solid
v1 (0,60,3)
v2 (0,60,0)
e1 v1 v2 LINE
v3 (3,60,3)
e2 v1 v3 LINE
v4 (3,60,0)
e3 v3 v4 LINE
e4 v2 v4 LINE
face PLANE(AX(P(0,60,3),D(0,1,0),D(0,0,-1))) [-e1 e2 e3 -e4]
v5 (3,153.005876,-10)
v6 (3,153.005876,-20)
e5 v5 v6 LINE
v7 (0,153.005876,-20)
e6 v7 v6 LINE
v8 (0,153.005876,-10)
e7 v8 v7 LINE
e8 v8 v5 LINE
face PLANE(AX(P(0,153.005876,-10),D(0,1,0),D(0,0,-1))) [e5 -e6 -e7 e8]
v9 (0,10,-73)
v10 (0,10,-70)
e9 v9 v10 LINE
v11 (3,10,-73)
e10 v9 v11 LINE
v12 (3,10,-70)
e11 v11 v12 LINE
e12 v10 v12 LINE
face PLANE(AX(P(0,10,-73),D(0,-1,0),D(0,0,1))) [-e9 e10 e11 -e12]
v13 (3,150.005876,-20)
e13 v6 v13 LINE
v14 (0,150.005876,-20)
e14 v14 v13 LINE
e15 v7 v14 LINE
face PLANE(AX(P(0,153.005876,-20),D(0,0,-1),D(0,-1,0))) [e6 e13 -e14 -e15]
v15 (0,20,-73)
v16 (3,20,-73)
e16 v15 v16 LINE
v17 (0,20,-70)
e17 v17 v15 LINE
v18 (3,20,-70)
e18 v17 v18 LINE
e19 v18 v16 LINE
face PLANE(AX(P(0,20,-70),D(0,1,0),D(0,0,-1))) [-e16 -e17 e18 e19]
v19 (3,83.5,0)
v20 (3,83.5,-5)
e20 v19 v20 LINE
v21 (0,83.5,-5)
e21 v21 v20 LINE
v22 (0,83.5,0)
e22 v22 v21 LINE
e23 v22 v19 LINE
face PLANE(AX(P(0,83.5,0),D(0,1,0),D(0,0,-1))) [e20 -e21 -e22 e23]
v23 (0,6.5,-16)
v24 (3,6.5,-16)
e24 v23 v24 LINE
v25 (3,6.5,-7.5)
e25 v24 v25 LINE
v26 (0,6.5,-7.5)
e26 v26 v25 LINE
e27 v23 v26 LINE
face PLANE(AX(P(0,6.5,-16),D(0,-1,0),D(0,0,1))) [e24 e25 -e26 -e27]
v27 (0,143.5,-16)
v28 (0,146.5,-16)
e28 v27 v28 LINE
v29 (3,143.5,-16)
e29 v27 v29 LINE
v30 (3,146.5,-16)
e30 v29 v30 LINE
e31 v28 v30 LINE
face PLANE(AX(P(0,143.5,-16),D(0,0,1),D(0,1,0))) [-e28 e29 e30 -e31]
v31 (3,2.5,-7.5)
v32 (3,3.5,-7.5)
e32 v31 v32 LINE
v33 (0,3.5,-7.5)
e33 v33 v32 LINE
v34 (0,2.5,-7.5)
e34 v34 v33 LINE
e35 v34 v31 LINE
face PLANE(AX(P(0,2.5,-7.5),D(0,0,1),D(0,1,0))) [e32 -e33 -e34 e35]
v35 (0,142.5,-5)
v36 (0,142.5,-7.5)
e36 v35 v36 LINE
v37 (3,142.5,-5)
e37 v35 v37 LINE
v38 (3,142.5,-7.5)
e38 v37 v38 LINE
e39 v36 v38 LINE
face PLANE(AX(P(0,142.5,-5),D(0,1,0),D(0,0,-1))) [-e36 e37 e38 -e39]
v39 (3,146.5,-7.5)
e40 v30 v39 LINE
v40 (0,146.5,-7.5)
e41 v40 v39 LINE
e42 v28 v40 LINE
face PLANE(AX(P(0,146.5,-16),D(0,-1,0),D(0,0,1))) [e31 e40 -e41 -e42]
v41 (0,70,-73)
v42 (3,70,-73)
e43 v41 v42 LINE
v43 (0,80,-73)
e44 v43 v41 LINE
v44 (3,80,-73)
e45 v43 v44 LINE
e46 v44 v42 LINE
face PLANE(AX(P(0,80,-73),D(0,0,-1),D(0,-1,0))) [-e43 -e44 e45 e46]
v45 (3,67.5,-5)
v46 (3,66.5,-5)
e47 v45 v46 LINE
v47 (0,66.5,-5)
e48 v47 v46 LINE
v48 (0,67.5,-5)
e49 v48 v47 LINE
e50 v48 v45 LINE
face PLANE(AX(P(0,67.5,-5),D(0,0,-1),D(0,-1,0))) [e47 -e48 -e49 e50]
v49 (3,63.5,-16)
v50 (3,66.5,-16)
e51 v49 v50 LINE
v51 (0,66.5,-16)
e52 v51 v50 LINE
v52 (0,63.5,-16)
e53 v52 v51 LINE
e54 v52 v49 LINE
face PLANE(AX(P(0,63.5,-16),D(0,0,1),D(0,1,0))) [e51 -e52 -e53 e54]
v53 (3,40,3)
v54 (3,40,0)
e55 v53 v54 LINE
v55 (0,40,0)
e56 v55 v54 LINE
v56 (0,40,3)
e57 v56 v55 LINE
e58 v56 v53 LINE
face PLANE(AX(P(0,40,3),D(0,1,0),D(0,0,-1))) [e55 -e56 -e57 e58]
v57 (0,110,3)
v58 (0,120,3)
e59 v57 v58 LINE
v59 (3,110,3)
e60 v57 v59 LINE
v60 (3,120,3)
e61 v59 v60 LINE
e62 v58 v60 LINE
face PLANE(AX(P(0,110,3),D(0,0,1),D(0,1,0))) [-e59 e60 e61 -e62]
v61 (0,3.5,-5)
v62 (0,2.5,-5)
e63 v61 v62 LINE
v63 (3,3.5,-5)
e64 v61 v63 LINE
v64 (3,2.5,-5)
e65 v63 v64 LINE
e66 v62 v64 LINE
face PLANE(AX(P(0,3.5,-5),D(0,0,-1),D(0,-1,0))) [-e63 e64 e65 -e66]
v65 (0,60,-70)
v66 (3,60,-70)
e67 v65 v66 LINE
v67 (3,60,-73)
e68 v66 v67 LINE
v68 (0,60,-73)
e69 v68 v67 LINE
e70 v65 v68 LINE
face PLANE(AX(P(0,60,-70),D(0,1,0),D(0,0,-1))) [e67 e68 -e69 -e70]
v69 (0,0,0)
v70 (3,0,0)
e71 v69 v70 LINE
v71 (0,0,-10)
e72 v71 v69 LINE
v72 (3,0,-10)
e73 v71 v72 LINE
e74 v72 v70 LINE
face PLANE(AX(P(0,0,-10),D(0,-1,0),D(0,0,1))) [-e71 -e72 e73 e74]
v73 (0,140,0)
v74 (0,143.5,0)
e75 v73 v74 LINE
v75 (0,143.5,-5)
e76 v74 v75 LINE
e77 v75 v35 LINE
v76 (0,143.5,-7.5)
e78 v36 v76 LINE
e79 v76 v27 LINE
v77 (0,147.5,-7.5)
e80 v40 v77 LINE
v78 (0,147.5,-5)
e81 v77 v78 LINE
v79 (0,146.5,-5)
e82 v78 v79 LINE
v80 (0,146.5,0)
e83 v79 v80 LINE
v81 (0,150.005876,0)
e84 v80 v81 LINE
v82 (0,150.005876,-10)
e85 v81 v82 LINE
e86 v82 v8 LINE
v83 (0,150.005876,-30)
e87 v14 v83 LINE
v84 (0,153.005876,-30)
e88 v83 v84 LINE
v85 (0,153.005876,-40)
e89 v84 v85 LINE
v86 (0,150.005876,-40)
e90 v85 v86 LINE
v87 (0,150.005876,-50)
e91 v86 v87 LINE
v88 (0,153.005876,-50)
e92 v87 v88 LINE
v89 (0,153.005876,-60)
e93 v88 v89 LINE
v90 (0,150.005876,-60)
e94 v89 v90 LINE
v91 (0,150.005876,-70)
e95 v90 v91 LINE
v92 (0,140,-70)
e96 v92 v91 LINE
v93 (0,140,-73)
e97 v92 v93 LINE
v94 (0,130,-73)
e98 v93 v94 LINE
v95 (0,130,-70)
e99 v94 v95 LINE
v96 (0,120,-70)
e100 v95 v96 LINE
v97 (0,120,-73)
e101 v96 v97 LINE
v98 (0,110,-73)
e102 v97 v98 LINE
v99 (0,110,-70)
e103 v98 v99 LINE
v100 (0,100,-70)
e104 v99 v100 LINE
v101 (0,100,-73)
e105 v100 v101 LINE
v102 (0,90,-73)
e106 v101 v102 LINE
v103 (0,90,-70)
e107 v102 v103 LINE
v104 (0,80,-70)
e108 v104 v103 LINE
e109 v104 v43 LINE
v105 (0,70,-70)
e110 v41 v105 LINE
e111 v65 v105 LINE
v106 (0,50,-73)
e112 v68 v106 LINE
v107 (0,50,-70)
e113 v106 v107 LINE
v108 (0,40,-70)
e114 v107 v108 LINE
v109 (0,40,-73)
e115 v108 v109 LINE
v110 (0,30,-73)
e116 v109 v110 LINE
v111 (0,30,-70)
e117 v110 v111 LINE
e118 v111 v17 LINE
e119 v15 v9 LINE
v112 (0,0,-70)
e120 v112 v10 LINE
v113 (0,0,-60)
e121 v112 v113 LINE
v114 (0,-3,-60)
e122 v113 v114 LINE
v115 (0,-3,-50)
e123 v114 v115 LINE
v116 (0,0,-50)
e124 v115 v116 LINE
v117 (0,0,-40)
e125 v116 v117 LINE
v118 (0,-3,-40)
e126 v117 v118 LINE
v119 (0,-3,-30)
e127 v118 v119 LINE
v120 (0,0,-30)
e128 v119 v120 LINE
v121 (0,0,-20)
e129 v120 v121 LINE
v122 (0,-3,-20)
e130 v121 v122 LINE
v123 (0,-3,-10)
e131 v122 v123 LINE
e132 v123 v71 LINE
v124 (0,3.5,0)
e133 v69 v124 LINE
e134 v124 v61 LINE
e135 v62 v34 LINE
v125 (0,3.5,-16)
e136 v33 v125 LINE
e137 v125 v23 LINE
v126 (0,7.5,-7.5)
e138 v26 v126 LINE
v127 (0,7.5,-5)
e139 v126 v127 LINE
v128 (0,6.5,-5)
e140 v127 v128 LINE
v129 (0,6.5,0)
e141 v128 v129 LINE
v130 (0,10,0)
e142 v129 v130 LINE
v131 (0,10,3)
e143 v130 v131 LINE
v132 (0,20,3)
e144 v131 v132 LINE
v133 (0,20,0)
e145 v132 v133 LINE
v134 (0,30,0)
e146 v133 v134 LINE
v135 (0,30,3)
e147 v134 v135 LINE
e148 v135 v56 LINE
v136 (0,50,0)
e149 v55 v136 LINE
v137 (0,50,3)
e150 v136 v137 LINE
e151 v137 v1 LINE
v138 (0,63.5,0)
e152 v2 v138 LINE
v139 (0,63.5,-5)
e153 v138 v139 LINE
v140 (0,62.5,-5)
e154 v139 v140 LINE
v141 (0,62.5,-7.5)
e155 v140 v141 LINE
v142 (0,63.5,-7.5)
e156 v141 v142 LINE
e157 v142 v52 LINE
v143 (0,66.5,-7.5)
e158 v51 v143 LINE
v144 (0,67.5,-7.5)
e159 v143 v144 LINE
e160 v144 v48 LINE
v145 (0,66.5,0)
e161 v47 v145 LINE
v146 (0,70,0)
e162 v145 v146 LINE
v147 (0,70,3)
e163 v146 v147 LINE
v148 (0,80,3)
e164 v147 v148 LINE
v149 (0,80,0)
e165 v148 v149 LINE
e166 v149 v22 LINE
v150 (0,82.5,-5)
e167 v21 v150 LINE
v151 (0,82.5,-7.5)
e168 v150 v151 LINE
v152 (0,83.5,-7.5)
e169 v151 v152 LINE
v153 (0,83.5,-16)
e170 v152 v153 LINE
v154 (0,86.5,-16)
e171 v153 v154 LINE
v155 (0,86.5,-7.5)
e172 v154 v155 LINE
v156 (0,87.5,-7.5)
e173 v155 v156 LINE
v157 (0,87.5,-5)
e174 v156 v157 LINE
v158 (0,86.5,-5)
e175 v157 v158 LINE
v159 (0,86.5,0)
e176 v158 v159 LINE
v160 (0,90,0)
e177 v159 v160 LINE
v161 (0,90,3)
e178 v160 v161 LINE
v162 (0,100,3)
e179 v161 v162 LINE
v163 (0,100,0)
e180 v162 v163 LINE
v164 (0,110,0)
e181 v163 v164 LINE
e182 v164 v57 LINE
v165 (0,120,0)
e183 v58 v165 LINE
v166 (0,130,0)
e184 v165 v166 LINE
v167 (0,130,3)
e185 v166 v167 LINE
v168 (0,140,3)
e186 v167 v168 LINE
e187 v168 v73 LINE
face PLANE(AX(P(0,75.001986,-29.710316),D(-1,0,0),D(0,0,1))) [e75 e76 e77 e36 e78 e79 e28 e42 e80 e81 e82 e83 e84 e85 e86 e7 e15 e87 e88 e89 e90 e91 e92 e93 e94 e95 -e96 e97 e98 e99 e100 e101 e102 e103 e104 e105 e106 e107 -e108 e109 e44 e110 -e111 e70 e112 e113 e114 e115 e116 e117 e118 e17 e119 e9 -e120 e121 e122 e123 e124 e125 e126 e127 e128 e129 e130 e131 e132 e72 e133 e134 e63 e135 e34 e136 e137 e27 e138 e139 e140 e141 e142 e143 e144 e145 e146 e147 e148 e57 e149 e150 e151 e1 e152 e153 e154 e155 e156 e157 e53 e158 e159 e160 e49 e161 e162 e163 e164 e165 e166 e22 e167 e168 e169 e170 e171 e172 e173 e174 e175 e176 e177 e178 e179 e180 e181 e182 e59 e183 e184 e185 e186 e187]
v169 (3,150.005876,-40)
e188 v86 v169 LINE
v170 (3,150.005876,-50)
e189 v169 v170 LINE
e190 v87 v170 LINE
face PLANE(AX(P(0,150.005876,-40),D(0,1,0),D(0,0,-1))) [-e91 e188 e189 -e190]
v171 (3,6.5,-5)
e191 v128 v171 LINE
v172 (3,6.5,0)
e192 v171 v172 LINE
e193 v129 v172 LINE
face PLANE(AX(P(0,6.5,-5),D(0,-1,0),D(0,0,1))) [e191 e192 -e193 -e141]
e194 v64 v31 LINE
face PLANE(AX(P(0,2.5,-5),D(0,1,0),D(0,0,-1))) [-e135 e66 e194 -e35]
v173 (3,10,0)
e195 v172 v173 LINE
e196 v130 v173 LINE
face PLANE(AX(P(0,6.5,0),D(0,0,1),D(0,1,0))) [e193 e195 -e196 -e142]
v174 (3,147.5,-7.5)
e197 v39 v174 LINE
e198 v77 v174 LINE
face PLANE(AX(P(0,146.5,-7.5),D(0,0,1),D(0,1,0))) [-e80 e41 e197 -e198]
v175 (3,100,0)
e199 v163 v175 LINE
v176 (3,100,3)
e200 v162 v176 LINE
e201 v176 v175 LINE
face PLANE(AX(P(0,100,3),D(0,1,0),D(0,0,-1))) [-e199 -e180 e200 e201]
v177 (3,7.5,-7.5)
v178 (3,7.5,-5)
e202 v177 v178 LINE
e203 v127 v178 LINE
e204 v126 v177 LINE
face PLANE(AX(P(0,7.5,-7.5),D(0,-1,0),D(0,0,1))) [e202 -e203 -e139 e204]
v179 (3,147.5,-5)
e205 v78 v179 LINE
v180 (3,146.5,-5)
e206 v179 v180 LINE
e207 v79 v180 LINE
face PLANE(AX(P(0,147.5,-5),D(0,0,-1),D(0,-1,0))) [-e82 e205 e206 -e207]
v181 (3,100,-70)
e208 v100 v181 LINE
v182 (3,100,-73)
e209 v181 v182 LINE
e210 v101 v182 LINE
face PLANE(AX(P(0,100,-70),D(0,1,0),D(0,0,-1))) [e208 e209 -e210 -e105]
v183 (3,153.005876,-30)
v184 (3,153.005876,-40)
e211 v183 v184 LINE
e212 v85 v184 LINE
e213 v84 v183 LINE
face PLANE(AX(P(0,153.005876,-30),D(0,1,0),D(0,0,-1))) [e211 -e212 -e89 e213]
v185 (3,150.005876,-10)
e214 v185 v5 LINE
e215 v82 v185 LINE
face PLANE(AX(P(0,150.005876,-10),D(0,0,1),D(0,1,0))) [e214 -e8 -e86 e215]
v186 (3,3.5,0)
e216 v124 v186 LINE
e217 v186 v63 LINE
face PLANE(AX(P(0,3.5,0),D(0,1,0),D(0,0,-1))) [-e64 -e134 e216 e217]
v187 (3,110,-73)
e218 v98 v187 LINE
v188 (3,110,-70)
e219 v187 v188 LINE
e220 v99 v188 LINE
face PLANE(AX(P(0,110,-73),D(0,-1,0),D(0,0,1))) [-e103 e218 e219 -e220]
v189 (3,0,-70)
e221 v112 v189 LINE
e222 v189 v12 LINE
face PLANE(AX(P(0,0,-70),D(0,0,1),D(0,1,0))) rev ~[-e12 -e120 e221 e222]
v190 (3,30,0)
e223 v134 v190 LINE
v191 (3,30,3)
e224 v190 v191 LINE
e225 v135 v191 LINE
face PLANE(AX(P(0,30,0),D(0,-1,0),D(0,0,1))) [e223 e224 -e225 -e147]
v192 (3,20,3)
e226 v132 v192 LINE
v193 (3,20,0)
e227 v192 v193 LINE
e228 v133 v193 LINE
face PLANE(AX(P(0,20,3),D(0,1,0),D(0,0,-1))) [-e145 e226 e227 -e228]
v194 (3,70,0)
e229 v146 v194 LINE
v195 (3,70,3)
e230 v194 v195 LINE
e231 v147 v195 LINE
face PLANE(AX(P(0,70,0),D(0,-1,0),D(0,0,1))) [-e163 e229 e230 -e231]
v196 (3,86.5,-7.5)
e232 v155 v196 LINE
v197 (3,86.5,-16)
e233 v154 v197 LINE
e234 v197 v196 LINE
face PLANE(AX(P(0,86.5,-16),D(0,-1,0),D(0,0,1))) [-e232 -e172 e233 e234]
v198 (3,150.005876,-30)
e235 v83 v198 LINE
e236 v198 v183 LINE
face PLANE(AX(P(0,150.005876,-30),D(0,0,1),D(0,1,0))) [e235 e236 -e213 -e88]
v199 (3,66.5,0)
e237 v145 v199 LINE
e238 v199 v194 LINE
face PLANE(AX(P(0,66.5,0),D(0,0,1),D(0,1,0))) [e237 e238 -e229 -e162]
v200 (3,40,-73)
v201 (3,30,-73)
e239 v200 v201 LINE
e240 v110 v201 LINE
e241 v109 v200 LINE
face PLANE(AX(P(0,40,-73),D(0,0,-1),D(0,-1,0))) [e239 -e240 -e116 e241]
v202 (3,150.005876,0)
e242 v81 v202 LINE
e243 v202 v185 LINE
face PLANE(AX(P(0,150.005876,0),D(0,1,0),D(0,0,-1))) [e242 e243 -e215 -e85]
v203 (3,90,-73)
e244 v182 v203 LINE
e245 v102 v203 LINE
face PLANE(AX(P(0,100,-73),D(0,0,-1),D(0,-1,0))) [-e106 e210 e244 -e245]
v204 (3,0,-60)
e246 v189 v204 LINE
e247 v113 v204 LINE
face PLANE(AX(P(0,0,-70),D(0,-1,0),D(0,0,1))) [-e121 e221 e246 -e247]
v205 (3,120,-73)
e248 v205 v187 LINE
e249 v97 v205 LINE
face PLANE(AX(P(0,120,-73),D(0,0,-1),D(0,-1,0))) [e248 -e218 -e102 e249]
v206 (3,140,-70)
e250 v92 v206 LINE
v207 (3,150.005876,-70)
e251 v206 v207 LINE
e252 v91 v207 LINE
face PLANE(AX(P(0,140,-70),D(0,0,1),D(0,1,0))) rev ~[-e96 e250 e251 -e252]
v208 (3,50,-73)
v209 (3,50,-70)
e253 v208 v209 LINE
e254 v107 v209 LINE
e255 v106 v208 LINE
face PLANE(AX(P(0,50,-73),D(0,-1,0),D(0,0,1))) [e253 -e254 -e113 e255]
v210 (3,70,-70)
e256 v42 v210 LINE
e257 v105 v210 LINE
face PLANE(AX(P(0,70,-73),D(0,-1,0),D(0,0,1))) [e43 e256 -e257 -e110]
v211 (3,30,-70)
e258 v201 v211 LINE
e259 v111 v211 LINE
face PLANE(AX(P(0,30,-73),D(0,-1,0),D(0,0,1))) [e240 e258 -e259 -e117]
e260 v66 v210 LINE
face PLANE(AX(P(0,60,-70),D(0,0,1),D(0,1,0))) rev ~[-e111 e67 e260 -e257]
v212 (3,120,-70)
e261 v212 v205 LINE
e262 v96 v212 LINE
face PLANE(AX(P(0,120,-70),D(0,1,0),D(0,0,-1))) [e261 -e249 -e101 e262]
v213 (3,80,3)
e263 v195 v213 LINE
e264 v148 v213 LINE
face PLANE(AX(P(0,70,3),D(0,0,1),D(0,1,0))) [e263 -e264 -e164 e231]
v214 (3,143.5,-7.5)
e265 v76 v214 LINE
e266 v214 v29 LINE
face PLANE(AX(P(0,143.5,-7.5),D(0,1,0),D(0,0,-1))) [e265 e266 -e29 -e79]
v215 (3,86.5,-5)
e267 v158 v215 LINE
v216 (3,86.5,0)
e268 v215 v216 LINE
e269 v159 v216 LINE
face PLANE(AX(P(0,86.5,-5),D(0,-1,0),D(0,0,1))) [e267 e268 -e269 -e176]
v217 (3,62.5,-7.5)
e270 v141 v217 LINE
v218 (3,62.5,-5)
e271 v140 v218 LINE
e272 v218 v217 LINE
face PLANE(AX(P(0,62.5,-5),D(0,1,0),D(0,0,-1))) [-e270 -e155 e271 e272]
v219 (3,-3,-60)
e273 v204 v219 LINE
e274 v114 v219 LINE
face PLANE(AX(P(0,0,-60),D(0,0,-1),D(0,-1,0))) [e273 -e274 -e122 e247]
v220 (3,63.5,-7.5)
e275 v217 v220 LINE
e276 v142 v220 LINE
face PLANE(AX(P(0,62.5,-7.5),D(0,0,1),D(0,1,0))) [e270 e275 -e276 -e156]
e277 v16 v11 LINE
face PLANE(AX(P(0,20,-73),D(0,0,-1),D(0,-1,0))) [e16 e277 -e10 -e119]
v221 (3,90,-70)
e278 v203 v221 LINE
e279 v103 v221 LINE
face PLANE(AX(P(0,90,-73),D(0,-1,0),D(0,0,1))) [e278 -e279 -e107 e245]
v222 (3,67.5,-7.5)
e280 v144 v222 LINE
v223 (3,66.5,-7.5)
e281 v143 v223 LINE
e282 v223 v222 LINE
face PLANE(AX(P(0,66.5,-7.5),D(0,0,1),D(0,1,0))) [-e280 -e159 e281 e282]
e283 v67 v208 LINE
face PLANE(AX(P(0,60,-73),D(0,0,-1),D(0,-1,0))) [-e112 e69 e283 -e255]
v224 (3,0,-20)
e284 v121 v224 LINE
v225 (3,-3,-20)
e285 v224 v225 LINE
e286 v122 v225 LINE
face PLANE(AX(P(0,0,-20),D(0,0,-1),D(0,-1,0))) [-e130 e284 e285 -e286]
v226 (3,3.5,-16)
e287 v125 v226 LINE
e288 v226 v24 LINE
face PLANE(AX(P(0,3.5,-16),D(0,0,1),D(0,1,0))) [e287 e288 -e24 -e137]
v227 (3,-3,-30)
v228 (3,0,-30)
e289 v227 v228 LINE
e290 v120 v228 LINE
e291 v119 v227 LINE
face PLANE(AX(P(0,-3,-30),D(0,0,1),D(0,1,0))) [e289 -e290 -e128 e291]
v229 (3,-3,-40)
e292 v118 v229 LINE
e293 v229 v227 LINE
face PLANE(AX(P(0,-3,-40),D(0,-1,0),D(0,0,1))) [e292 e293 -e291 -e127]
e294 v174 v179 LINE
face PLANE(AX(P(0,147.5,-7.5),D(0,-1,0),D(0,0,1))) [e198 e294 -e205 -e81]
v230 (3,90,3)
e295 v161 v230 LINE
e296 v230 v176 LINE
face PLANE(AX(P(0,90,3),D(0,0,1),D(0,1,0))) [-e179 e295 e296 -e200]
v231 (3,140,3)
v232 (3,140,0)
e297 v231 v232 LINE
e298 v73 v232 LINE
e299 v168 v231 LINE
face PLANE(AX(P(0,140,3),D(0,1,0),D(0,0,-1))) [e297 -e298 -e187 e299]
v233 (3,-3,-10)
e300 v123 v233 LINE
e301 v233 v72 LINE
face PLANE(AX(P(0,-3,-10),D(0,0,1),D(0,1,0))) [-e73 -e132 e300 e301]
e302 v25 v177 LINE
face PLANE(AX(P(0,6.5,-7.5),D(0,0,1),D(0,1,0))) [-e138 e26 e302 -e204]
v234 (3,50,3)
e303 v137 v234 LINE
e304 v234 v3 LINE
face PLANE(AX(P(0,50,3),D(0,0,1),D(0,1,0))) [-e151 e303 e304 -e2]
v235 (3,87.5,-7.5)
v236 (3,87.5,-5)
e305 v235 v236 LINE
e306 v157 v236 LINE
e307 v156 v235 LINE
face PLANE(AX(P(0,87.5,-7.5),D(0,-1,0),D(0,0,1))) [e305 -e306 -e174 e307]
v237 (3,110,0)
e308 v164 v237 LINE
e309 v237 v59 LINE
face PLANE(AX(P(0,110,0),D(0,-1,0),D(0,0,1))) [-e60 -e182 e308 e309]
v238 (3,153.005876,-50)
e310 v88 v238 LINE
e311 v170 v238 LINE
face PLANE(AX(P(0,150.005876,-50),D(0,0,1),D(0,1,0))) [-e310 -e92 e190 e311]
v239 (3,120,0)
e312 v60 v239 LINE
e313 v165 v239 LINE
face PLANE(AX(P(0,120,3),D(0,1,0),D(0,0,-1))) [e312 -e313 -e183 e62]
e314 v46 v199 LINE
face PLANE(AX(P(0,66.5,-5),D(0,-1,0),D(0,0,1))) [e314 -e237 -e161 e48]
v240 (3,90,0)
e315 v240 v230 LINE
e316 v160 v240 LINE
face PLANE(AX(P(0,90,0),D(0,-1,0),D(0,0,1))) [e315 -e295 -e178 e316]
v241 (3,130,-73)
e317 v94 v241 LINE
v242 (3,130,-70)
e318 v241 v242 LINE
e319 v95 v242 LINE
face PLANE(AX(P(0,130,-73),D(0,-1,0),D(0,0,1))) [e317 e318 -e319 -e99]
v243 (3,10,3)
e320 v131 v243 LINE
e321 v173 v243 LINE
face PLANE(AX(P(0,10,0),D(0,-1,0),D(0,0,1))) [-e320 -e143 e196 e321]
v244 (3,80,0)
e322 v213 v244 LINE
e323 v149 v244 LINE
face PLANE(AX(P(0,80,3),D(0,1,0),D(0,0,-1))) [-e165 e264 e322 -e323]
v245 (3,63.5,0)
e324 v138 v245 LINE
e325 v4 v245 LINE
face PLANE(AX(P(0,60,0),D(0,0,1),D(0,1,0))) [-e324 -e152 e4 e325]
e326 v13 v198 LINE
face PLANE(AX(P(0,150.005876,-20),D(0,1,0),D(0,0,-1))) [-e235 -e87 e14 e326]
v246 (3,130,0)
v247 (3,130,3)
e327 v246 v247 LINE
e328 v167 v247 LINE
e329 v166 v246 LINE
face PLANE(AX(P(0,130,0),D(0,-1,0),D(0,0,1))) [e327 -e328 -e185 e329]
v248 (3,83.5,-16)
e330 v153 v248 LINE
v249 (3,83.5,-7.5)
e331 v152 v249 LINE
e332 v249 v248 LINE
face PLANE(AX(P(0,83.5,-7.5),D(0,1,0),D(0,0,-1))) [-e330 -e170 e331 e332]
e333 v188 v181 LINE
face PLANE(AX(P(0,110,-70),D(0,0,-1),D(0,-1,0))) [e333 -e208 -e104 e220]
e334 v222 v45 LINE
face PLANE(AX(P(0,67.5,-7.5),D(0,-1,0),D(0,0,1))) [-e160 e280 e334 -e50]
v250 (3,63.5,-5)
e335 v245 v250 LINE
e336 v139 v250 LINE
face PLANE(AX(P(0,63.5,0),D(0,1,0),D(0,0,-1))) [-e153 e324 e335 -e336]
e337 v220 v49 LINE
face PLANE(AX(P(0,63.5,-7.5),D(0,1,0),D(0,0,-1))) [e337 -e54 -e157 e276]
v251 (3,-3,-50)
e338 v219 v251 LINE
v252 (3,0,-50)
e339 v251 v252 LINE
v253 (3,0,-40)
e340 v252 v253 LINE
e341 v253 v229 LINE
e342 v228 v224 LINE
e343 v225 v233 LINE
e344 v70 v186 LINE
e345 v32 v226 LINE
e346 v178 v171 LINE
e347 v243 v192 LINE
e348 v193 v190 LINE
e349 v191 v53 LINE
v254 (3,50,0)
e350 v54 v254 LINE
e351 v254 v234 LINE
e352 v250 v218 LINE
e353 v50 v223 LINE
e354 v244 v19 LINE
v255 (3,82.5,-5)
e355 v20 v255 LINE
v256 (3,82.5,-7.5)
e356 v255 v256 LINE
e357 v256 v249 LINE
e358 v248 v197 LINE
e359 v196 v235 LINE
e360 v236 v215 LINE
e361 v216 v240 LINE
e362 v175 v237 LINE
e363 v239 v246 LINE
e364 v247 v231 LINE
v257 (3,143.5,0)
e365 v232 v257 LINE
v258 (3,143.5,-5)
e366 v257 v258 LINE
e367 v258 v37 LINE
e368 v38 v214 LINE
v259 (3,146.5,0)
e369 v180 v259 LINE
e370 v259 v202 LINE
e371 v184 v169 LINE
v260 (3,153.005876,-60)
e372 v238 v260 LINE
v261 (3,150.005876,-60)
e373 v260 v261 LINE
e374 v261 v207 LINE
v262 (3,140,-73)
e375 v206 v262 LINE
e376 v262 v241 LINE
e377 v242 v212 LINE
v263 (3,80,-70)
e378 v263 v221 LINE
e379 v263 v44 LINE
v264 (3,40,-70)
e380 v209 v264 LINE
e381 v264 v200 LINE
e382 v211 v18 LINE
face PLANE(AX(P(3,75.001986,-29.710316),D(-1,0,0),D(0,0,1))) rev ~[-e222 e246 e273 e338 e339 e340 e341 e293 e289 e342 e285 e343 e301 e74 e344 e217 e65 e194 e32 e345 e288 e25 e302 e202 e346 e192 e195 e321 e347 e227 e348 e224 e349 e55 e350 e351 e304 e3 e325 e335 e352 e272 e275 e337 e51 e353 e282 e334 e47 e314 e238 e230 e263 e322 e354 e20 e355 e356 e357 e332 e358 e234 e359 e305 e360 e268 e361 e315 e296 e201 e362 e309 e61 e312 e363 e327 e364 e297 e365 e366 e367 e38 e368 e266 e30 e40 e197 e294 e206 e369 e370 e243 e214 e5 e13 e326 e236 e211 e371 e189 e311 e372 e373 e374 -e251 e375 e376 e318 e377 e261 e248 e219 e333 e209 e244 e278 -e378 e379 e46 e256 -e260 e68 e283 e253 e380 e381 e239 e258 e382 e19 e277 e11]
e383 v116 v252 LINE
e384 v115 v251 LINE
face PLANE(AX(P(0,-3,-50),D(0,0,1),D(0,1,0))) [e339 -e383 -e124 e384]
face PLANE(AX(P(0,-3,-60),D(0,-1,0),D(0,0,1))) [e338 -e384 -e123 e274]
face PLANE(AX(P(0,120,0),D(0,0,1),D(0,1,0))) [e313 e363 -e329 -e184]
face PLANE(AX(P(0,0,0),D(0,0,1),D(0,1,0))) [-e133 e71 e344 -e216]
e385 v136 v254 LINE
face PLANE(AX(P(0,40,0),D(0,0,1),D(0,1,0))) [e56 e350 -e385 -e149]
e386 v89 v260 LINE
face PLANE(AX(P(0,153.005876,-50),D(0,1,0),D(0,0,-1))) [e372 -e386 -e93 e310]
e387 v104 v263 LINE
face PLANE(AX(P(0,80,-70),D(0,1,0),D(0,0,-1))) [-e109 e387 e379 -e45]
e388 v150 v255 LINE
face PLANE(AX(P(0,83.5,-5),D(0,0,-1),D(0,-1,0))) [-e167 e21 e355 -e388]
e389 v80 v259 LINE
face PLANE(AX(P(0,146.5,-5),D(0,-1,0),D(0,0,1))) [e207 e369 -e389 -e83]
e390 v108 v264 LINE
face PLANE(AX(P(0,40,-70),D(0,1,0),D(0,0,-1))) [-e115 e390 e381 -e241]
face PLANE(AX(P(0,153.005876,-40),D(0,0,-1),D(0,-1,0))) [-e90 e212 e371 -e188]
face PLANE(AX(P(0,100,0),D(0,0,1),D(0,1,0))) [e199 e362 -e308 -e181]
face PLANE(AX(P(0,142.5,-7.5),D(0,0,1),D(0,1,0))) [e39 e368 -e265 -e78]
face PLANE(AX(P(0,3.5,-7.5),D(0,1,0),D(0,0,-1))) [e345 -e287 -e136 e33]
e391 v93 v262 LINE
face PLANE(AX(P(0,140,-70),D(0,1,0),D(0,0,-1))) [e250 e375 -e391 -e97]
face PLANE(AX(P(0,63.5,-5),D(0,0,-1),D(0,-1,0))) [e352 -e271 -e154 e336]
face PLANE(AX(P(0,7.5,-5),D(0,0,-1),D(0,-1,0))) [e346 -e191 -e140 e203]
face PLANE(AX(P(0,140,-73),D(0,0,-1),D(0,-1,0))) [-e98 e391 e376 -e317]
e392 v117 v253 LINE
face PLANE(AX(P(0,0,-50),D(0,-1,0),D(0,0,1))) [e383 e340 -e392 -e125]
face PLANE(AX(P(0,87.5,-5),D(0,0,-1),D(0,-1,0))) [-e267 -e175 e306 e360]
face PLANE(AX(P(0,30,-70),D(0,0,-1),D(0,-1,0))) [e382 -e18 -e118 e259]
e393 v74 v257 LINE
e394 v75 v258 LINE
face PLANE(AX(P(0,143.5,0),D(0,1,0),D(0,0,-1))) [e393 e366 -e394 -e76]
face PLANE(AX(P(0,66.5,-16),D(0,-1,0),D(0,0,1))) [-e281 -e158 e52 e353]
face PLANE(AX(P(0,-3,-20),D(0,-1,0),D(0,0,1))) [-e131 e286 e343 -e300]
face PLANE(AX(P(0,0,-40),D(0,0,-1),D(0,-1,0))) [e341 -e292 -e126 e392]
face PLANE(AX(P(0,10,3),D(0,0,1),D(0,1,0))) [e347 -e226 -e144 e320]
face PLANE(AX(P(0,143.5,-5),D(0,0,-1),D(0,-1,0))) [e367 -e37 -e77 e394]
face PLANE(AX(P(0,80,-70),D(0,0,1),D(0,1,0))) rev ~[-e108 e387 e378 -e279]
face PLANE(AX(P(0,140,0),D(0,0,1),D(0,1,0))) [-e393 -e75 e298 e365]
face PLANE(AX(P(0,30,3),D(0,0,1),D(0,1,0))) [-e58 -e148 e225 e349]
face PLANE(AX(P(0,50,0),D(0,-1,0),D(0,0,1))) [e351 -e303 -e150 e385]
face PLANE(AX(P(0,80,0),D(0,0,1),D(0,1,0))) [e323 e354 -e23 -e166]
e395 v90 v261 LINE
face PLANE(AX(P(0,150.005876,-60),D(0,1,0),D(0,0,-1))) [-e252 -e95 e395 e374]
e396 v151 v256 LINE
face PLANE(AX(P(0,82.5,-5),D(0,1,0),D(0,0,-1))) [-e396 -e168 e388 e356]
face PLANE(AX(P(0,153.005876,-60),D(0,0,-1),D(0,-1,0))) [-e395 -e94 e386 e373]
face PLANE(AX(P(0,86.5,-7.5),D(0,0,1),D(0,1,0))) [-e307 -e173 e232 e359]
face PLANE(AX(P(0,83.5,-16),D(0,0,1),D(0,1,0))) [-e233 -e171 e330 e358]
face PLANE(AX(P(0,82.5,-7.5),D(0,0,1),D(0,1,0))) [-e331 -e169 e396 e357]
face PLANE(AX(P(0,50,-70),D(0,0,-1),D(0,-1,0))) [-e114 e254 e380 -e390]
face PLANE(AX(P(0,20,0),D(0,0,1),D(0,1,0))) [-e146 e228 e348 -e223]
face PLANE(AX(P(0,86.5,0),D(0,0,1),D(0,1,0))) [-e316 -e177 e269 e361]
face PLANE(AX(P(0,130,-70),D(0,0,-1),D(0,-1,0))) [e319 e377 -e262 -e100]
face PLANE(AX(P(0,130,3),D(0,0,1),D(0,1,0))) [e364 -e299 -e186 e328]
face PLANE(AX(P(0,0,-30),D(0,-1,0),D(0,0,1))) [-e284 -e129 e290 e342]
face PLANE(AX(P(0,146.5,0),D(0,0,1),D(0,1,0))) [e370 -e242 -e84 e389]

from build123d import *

# Parameters (mm, degrees)
BOSS_EXTRUDE1_DEPTH = 3


with BuildPart() as part:
    # Sketch1 → Boss-Extrude1 (new body)
    with BuildSketch(Plane(origin=(0, 0, 0), x_dir=(0, 0, -1), z_dir=(1, 0, 0))):
        Polygon((10, 153.005875518), (20, 153.005875518), (20, 150.005875518), (30, 150.005875518), (30, 153.005875518), (40, 153.005875518), (40, 150.005875518), (50, 150.005875518), (50, 153.005875518), (60, 153.005875518), (60, 150.005875518), (70, 150.005875518), (70, 146.5), (70, 143.5), (70, 140), (73, 140), (73, 130), (70, 130), (70, 120), (73, 120), (73, 110), (70, 110), (70, 100), (73, 100), (73, 90), (70, 90), (70, 83.5), (70, 80), (73, 80), (73, 70), (70, 70), (70, 66.5), (70, 63.5), (70, 60), (73, 60), (73, 50), (70, 50), (70, 40), (73, 40), (73, 30), (70, 30), (70, 20), (73, 20), (73, 10), (70, 10), (70, 6.5), (70, 3.5), (70, 0), (60, 0), (60, -3), (50, -3), (50, 0), (40, 0), (40, -3), (30, -3), (30, 0), (20, 0), (20, -3), (10, -3), (10, 0), (0, 0), (0, 3.5), (5, 3.5), (5, 2.5), (7.5, 2.5), (7.5, 3.5), (16, 3.5), (16, 6.5), (7.5, 6.5), (7.5, 7.5), (5, 7.5), (5, 6.5), (0, 6.5), (0, 10), (-3, 10), (-3, 20), (0, 20), (0, 30), (-3, 30), (-3, 40), (0, 40), (0, 50), (-3, 50), (-3, 60), (0, 60), (0, 63.5), (5, 63.5), (5, 62.5), (7.5, 62.5), (7.5, 63.5), (16, 63.5), (16, 66.5), (7.5, 66.5), (7.5, 67.5), (5, 67.5), (5, 66.5), (0, 66.5), (0, 70), (-3, 70), (-3, 80), (0, 80), (0, 83.5), (5, 83.5), (5, 82.5), (7.5, 82.5), (7.5, 83.5), (16, 83.5), (16, 86.5), (7.5, 86.5), (7.5, 87.5), (5, 87.5), (5, 86.5), (0, 86.5), (0, 90), (-3, 90), (-3, 100), (0, 100), (0, 110), (-3, 110), (-3, 120), (0, 120), (0, 130), (-3, 130), (-3, 140), (0, 140), (0, 143.5), (5, 143.5), (5, 142.5), (7.5, 142.5), (7.5, 143.5), (16, 143.5), (16, 146.5), (7.5, 146.5), (7.5, 147.5), (5, 147.5), (5, 146.5), (0, 146.5), (0, 150.005875518), (10, 150.005875518), align=None)
    extrude(amount=BOSS_EXTRUDE1_DEPTH)


solid = part.part
